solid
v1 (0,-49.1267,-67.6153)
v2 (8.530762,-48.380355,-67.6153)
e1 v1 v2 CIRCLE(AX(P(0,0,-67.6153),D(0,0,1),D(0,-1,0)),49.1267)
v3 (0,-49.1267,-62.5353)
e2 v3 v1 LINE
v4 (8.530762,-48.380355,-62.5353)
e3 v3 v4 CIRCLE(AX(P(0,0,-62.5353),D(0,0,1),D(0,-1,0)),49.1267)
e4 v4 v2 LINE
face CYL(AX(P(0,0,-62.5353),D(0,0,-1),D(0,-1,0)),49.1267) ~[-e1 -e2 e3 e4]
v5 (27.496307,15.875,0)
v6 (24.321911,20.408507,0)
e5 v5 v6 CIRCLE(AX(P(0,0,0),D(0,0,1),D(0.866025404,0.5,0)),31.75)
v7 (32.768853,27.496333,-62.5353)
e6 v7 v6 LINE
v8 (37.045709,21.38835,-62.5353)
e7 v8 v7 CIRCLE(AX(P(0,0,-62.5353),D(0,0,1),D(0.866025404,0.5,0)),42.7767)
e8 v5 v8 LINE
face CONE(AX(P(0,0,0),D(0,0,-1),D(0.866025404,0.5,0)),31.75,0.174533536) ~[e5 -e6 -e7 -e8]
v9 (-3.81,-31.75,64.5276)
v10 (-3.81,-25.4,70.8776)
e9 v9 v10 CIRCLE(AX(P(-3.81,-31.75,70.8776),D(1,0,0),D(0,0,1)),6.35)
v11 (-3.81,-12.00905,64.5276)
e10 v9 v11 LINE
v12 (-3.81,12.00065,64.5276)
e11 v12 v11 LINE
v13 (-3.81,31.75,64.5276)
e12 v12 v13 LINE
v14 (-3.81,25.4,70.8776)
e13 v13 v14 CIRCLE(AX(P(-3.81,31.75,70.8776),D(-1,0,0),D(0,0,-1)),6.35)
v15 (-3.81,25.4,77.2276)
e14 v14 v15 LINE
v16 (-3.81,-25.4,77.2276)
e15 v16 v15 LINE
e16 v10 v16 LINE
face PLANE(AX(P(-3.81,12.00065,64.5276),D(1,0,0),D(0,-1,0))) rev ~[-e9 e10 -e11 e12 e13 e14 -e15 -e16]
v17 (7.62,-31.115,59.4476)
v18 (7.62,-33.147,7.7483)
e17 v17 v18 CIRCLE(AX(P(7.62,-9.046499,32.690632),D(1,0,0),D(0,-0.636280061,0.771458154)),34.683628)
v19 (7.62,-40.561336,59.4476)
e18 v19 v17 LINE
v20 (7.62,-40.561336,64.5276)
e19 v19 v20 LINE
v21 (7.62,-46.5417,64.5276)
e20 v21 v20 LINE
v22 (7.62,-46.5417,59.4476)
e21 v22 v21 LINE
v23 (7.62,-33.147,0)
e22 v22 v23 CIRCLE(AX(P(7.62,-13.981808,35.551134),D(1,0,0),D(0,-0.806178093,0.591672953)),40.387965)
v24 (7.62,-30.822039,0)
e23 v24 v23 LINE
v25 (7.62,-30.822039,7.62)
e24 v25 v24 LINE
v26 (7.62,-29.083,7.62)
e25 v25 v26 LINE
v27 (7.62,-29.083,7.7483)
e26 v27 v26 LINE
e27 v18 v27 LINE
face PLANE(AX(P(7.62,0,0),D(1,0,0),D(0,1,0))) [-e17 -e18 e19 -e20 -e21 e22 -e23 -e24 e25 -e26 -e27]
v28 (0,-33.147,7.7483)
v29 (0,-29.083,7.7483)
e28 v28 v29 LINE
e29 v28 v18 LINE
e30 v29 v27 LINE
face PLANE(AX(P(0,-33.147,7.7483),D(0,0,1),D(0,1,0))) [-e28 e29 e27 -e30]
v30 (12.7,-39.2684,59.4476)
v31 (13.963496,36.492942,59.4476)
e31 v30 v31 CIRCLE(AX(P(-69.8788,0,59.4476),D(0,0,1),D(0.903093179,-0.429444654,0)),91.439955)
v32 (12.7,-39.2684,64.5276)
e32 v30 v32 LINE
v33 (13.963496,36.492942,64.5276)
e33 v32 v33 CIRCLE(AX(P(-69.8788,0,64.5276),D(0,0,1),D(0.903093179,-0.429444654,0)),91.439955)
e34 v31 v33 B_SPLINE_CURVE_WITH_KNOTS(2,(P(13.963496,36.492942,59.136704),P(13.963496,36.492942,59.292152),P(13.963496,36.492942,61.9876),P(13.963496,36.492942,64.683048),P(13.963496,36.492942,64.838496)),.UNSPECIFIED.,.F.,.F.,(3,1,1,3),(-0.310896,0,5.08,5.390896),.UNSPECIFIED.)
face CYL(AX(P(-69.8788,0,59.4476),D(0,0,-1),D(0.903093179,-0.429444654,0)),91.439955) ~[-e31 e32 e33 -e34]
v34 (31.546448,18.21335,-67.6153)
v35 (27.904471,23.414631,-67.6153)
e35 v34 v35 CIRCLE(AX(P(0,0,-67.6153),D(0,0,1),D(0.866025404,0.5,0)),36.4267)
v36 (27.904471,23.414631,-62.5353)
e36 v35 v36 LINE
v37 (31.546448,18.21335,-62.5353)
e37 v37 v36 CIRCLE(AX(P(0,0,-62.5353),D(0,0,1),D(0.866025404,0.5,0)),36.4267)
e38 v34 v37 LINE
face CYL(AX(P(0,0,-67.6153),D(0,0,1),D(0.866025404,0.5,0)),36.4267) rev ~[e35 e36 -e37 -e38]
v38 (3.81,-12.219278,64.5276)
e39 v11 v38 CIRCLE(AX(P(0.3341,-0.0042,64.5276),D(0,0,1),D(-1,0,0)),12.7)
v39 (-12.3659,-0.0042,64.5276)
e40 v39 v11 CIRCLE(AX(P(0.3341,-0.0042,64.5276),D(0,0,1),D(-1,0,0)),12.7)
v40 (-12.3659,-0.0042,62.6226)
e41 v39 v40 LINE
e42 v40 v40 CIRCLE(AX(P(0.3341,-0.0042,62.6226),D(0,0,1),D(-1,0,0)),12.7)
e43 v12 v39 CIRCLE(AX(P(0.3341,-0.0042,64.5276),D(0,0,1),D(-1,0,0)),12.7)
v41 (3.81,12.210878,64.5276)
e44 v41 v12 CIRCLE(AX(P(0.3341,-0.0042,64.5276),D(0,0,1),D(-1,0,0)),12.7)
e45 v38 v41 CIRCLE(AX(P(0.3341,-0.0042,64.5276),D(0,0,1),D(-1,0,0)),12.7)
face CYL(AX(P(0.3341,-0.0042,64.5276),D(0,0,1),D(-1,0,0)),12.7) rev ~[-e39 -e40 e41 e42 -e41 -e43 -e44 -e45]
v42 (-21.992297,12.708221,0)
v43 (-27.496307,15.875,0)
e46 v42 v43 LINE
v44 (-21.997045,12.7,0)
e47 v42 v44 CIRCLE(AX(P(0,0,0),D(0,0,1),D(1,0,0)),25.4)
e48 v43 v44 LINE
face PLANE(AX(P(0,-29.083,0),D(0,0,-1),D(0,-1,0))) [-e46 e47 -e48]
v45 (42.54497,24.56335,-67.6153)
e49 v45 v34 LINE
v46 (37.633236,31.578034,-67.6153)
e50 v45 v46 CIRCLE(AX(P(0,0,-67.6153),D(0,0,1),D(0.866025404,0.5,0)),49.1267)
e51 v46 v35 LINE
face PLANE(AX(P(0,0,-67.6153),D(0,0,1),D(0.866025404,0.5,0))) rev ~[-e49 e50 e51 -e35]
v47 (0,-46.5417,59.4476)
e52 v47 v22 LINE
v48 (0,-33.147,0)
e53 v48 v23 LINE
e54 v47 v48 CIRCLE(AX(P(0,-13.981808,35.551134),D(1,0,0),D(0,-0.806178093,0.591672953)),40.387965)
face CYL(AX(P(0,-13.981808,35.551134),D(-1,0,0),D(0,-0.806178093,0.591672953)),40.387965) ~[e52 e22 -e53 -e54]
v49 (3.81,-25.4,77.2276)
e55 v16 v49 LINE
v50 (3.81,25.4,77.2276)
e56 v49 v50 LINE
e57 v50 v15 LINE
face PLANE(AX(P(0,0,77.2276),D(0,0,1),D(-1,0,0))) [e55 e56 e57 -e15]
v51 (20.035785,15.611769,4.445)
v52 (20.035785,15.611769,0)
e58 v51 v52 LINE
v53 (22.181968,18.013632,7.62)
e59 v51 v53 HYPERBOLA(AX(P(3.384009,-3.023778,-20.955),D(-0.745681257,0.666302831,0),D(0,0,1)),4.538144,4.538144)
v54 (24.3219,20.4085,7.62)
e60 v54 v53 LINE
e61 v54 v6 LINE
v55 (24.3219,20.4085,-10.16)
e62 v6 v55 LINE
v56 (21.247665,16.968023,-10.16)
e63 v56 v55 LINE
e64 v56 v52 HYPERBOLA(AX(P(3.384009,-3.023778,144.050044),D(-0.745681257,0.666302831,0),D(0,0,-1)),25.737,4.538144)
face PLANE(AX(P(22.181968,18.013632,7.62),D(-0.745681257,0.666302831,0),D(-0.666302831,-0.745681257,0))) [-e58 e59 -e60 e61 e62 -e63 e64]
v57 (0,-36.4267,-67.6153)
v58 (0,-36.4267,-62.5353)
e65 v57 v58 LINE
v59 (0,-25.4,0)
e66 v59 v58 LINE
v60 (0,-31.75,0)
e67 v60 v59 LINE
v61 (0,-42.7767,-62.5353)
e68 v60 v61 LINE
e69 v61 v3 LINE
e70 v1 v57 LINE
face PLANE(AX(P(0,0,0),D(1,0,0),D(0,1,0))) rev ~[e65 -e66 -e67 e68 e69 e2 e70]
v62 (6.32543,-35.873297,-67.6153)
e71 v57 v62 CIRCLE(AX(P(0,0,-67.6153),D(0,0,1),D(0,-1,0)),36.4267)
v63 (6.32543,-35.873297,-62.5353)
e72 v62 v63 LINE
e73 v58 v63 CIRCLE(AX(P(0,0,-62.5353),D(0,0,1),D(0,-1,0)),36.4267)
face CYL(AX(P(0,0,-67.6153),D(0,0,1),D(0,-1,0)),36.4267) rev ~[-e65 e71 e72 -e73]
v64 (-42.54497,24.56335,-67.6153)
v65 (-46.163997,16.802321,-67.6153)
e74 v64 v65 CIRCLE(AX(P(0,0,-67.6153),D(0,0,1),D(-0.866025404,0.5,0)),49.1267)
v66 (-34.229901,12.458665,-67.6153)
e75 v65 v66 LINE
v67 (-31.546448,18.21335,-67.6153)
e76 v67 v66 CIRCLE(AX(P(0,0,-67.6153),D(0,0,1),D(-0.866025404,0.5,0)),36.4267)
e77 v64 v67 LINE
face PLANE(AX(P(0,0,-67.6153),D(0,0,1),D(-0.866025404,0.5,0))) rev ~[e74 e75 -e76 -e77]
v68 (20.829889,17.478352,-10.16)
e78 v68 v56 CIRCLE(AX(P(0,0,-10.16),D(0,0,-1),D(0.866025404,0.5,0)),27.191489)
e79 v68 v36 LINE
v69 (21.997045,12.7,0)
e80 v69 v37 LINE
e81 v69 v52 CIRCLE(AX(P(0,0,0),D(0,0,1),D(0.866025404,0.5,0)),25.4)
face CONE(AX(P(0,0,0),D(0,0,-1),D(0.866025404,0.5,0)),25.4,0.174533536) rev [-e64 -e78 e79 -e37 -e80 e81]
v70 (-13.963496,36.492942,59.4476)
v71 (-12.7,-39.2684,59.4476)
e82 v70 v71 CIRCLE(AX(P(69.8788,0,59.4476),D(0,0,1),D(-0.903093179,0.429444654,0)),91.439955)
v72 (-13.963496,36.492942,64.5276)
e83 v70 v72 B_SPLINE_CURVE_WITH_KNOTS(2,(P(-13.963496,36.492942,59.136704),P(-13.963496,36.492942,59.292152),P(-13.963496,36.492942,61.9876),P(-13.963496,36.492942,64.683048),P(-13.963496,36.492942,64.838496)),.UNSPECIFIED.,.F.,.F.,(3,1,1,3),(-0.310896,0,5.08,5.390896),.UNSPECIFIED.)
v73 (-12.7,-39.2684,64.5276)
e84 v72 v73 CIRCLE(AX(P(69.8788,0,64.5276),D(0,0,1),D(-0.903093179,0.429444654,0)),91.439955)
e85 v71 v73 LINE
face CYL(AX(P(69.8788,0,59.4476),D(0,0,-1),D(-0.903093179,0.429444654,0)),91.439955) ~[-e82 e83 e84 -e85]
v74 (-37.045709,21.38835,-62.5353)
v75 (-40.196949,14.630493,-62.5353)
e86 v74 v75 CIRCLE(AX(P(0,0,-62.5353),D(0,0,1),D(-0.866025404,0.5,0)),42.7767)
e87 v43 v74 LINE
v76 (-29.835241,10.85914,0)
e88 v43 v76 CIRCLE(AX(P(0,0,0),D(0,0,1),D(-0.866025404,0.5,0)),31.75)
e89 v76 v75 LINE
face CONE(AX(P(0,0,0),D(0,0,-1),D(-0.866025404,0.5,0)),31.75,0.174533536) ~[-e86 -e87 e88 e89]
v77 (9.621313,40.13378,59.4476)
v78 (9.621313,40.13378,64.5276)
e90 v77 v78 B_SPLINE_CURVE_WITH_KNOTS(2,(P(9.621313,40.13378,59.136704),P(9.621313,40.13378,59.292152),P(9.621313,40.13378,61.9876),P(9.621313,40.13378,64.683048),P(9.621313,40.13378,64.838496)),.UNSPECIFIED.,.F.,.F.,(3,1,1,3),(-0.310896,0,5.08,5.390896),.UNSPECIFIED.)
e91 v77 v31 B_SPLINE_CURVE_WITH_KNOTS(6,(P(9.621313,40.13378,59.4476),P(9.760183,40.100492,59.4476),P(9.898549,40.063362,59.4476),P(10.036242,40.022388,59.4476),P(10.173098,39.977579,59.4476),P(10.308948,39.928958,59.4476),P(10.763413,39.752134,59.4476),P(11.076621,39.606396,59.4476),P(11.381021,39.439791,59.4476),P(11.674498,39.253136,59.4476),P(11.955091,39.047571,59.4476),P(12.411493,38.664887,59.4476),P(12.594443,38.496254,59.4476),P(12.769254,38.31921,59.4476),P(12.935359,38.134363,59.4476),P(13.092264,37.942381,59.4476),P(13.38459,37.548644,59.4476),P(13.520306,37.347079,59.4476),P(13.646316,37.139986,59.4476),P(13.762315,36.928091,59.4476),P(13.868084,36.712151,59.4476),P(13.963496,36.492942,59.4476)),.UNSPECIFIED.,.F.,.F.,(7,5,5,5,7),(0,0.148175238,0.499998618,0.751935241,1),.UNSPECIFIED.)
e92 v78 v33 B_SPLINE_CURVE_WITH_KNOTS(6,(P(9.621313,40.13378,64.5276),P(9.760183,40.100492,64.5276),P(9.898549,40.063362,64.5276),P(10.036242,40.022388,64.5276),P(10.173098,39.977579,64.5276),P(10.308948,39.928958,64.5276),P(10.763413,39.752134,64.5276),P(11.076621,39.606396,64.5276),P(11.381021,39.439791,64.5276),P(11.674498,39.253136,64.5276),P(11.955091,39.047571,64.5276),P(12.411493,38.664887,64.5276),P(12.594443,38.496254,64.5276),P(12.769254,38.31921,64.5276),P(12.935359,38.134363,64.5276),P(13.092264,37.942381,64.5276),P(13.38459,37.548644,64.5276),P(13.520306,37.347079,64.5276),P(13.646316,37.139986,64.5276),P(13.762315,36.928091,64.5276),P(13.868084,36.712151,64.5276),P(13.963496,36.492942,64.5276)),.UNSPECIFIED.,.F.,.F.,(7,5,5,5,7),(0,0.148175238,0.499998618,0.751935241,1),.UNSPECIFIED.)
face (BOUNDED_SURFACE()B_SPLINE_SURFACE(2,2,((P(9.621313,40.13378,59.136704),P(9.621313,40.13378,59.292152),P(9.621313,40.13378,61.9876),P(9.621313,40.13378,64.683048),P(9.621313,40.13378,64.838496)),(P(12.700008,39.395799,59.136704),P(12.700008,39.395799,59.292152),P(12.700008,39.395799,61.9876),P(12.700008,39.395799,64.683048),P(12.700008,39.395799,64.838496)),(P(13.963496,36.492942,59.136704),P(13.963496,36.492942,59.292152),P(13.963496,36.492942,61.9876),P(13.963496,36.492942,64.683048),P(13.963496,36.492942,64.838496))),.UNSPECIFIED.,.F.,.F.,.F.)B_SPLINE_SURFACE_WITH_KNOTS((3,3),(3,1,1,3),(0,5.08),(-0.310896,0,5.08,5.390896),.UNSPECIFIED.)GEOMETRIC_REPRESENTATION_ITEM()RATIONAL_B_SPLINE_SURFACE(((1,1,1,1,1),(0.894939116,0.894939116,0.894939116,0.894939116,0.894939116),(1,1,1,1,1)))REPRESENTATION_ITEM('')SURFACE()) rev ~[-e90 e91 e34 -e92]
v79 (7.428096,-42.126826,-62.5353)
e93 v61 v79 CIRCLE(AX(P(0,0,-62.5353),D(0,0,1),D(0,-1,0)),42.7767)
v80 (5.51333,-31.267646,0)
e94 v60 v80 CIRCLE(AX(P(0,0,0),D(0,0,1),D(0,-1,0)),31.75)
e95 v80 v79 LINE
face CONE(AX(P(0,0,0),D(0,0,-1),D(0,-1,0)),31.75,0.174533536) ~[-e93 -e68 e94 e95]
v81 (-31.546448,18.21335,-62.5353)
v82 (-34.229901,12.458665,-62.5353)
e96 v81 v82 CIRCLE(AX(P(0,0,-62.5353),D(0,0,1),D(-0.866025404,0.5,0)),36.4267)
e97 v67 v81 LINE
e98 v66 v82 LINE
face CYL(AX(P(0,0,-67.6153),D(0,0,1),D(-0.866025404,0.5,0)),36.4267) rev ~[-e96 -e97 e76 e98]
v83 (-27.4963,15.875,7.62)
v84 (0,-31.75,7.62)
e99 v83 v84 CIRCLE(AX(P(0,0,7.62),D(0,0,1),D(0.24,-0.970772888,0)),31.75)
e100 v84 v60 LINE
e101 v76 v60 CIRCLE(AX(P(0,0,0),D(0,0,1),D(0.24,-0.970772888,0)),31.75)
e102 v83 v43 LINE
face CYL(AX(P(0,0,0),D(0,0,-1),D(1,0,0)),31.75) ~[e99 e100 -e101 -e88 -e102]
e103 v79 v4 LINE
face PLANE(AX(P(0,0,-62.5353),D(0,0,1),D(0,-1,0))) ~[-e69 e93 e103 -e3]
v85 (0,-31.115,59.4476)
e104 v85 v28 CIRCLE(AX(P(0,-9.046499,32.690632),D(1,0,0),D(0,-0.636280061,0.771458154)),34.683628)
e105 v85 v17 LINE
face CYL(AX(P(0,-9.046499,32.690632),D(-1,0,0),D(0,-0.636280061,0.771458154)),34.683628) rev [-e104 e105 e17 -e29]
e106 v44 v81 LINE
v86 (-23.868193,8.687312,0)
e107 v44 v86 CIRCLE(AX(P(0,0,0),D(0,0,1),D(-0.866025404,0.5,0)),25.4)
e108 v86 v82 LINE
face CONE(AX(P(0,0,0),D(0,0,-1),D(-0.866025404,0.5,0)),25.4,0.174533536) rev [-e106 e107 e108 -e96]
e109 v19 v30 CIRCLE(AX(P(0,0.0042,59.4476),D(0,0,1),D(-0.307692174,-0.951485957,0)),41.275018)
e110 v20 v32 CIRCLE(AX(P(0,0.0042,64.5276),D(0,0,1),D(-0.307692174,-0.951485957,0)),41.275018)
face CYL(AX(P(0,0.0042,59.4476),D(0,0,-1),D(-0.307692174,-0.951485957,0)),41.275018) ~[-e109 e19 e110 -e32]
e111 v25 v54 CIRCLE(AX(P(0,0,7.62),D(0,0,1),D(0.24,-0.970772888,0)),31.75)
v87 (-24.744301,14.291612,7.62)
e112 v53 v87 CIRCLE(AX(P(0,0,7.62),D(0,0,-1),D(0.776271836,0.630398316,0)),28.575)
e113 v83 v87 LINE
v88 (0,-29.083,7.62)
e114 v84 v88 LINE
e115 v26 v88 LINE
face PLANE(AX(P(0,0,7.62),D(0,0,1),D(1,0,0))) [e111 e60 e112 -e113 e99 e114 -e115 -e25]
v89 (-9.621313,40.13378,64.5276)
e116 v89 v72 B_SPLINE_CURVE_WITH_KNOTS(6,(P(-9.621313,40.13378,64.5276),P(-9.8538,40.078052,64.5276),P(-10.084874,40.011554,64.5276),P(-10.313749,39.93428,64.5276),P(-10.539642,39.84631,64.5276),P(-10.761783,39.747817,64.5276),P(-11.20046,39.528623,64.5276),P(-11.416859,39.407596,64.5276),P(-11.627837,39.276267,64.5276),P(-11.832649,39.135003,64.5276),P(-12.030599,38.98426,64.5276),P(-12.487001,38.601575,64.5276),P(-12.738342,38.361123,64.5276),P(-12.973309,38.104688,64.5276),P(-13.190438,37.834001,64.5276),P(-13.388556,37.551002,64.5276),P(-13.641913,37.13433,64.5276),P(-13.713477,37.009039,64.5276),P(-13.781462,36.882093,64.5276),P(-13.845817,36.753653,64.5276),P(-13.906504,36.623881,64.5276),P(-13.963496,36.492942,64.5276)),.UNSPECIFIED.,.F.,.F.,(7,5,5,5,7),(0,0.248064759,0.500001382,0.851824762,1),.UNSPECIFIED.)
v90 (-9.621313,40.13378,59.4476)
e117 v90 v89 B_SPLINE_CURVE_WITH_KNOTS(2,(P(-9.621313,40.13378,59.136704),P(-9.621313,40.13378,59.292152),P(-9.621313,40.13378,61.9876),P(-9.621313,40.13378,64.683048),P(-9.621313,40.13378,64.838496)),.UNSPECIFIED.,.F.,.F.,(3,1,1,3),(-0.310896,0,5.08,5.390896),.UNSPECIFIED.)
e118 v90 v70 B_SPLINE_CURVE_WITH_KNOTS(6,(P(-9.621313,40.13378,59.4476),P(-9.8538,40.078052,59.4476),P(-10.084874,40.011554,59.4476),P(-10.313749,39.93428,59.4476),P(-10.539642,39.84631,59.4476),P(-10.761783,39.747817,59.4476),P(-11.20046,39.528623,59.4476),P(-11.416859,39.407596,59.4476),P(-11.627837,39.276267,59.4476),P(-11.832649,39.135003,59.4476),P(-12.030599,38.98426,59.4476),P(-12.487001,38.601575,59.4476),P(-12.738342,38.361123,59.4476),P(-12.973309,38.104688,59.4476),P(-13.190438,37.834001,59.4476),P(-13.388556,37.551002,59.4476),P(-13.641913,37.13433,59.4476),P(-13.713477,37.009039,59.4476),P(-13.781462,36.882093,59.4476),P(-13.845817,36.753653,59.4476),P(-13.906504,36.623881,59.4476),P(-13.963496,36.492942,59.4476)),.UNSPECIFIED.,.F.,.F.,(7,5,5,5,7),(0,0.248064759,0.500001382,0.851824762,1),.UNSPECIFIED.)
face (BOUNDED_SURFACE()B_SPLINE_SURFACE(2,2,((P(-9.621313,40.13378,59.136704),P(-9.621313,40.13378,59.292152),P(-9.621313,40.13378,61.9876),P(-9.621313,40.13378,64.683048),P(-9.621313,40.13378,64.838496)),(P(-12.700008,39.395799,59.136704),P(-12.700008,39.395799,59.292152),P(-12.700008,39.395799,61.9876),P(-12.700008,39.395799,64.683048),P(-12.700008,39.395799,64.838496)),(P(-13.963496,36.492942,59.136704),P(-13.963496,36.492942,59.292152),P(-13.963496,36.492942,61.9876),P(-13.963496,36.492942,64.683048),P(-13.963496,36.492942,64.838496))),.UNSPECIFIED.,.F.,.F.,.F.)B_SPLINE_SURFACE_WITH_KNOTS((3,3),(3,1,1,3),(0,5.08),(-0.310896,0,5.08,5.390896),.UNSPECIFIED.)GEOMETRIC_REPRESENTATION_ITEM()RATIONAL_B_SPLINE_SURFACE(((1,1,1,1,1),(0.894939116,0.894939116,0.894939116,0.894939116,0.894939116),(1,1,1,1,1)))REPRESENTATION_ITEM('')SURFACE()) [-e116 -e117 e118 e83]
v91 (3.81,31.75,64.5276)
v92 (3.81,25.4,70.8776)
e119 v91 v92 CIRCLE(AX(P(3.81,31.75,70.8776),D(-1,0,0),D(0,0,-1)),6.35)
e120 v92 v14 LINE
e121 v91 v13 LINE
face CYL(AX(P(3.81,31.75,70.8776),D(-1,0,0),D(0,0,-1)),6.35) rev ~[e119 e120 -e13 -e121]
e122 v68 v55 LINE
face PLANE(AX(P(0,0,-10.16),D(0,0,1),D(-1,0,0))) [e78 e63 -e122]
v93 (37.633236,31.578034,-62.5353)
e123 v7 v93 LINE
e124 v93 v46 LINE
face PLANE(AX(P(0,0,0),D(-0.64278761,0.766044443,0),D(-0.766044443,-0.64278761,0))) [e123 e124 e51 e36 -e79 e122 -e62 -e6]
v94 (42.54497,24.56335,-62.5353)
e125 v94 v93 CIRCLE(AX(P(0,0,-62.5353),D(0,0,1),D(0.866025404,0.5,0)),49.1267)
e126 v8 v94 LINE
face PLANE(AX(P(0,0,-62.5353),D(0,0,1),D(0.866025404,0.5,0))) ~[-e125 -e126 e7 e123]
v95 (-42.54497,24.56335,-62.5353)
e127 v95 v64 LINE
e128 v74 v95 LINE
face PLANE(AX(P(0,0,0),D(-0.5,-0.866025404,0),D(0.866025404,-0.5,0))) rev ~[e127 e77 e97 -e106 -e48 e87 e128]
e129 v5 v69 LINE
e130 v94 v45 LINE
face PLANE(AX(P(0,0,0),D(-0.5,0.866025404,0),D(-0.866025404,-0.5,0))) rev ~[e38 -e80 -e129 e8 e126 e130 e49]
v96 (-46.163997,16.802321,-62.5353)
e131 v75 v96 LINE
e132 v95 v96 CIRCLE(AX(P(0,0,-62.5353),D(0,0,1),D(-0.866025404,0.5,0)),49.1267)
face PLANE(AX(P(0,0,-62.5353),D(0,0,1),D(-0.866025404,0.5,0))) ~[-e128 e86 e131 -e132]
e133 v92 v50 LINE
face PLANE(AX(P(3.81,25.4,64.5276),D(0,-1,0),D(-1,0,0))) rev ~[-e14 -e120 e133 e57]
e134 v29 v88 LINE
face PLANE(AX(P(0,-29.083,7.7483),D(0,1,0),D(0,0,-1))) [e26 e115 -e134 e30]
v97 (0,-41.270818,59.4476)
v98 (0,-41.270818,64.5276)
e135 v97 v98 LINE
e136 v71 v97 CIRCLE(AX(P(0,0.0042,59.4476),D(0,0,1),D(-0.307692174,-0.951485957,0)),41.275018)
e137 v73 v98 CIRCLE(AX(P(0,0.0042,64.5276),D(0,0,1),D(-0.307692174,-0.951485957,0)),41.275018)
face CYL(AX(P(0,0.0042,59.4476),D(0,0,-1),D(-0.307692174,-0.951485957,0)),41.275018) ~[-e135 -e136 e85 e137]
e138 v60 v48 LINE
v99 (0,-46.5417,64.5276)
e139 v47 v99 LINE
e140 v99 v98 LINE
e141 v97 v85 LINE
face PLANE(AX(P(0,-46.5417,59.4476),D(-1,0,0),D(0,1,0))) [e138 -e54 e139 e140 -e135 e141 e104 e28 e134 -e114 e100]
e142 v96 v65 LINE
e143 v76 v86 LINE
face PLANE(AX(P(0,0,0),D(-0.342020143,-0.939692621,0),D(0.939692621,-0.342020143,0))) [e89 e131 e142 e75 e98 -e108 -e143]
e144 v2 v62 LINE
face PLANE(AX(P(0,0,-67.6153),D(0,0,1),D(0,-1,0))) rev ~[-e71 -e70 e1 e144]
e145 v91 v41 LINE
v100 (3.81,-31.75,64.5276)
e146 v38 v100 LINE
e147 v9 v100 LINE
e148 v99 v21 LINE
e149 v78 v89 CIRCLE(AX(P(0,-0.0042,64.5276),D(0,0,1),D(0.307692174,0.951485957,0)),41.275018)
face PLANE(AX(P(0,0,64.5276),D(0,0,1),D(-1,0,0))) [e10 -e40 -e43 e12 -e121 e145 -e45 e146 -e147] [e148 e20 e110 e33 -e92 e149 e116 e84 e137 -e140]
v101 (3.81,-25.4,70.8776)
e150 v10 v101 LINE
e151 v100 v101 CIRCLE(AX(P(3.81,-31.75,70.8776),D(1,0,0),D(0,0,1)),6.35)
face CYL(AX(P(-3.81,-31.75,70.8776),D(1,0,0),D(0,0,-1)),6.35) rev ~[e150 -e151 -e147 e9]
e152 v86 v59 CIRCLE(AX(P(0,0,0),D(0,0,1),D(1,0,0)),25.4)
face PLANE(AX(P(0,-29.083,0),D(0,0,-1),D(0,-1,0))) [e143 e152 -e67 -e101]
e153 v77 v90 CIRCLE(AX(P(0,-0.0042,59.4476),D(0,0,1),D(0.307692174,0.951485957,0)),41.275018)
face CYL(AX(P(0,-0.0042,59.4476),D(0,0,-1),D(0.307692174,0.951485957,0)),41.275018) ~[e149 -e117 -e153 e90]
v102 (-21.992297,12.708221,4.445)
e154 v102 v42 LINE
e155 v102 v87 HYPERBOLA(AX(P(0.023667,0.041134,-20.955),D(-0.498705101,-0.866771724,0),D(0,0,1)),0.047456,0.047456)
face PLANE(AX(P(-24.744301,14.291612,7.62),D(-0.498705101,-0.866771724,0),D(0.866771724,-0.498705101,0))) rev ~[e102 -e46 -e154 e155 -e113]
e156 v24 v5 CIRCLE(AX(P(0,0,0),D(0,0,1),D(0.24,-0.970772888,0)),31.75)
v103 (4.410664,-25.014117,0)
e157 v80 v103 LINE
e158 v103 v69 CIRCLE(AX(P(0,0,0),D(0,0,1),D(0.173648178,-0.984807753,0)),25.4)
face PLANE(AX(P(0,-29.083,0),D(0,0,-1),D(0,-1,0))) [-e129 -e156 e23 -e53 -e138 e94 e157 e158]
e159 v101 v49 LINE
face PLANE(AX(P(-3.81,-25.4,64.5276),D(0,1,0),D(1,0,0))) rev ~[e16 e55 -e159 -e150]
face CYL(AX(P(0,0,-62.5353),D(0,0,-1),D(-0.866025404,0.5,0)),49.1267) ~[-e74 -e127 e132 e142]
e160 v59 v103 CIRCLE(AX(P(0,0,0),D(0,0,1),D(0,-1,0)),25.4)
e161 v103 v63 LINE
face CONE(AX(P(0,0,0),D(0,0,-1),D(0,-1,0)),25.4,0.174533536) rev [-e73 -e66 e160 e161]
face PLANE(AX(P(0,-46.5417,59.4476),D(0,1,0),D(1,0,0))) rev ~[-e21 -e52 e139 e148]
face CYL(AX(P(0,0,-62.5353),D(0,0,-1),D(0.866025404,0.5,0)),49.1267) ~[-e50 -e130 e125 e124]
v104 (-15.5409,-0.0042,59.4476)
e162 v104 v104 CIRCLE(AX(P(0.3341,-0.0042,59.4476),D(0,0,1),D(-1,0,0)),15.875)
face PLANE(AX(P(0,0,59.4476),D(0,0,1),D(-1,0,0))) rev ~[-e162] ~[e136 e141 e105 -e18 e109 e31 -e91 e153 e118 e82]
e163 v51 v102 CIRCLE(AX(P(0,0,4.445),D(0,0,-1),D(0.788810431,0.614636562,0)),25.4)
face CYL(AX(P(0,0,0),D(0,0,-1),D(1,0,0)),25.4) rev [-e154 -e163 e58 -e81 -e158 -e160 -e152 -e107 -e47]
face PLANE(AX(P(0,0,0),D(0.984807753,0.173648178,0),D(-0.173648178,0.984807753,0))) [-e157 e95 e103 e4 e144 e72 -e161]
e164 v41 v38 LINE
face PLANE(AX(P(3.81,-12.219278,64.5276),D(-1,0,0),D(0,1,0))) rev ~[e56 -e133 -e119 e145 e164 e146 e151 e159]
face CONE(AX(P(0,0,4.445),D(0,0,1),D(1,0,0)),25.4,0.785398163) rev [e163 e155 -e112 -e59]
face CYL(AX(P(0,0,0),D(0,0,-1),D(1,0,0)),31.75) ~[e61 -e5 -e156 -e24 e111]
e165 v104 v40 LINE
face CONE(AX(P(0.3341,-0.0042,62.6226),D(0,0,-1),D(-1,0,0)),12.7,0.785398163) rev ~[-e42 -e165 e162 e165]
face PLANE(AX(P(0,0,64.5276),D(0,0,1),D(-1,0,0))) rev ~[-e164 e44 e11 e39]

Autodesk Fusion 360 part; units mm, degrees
sketch "Sketch1" plane through (0, 0, 0) normal (0, 0, 1) x (1, 0, 0)
  circle A0 centre (0, 0) radius 31.75
  circle A1 centre (0, 0) radius 25.4
  dimension "d1" = 63.5
  dimension "d2" = 50.8
extrude "Extrude1" add sketch "Sketch1" along normal blind 7.62 makes body 1
chamfer "Chamfer1" distance 3.175 distance2 3.175 1 edges at (-23.6811, 9.185, 7.62) measured on face at (29.4206, -2.8393, 7.62) on bodies 1
sketch "Sketch2" plane through (0, 0, 0) normal (1, 0, 0) x (0, 1, 0)
  arc A0 (-31.115, 59.4476) -> (-33.147, 7.7483) centre (-9.0465, 32.6906) ccw
  arc A1 (-46.5417, 59.4476) -> (-33.147, 0) centre (-13.9818, 35.5511) ccw
  line L0 (-33.147, 7.7483) -> (-33.147, 0)
  line L1 (-33.147, 7.7483) -> (-29.083, 7.7483)
  line L2 (-29.083, 7.7483) -> (-29.083, 0)
  line L3 (-29.083, 0) -> (-33.147, 0)
  line L4 (-33.147, 0) -> (-33.147, 7.7483)
  line L5 (-31.115, 0) -> (-31.115, 59.4476) construction
  line L6 (-46.5417, 59.4476) -> (-31.115, 59.4476)
extrude "Extrude2" add sketch "Sketch2" along normal blind 7.62 bodies 1
sketch "Sketch5" plane through (0, 0, 59.4476) normal (0, 0, 1) x (-1, 0, 0)
  line L0 (0, 31.115) -> (0, 46.5417)
  line L1 (0, 46.5417) -> (-7.62, 46.5417)
  line L2 (-7.62, 46.5417) -> (-7.62, 31.115)
  line L3 (-7.62, 31.115) -> (0, 31.115)
  line L4 (12.7, 39.2684) -> (-12.7, 39.2684) construction
  line L5 (-12.7, 39.2684) -> (-12.7, -39.2684) construction
  line L6 (-12.7, -39.2684) -> (12.7, -39.2684) construction
  line L7 (12.7, -39.2684) -> (12.7, 39.2684) construction
  line L8 (12.7, 39.2684) -> (-12.7, -39.2684) construction
  line L9 (-12.7, 39.2684) -> (12.7, -39.2684) construction
  arc A0 (12.7, -39.2684) -> (12.7, 39.2684) centre (-69.8788, 0) ccw
  arc A1 (12.7, 39.2684) -> (-12.7, 39.2684) centre (0, -0.0042) ccw
  arc A2 (-12.7, 39.2684) -> (-12.7, -39.2684) centre (69.8788, 0) ccw
  arc A3 (-12.7, -39.2684) -> (12.7, -39.2684) centre (0, 0.0042) ccw
  line L10 (0, 46.5417) -> (-7.62, 46.5417)
  line L11 (-7.62, 46.5417) -> (-7.62, 31.115)
  line L12 (-7.62, 31.115) -> (0, 31.115)
  line L13 (0, 31.115) -> (0, 46.5417)
  dimension "d20" = 25.4
  dimension "d21" = 78.5368
  dimension "d22" = 91.44
  dimension "d23" = 41.275
  dimension "d24" = 91.44
  dimension "d25" = 41.275
extrude "Extrude3" add sketch "Sketch5" along normal blind 5.08 separate body contours L0 L2 L3 A0 A1 A2 A3 L11 L12 L13 makes body 2
extrude "Extrude4" add 1 faces at (2.54, -36.2572, 59.4476) along direction (0, 0, 1) blind 5.08 on bodies 1 bodies 1 2
fillet "Fillet1" radius 6.35 1 edges at (12.7, 39.2684, 61.9876) on bodies 1
fillet "Fillet2" radius 6.35 1 edges at (-12.7, 39.2684, 61.9876) on bodies 1
sketch "Sketch6" plane through (0, 0, 64.5276) normal (0, 0, 1) x (-1, 0, 0)
  arc A0 (9.6213, -40.1338) -> (13.9635, -36.4929) centre (8.1411, -33.9587) ccw
  arc A1 (13.9635, -36.4929) -> (12.7, 39.2684) centre (-69.8788, 0) ccw
  arc A2 (12.7, 39.2684) -> (0, 41.2708) centre (0, -0.0042) ccw
  line L0 (0, 41.2708) -> (0, 46.5417)
  line L1 (0, 46.5417) -> (-7.62, 46.5417)
  line L2 (-7.62, 46.5417) -> (-7.62, 40.5613)
  arc A3 (-7.62, 40.5613) -> (-12.7, 39.2684) centre (0, -0.0042) ccw
  arc A4 (-12.7, 39.2684) -> (-13.9635, -36.4929) centre (69.8788, 0) ccw
  arc A5 (-13.9635, -36.4929) -> (-9.6213, -40.1338) centre (-8.1411, -33.9587) ccw
  arc A6 (-9.6213, -40.1338) -> (9.6213, -40.1338) centre (0, 0.0042) ccw
  circle A7 centre (-0.3341, 0.0042) radius 12.7
  dimension "d35" = 25.4
extrude "Extrude5" cut sketch "Sketch6" against normal blind 5.08 contours A7 bodies 1
chamfer "Chamfer2" distance 3.175 angle 45 1 edges at (12.1747, 4.5883, 59.4476) on bodies 1
sketch "Sketch7" plane through (0, 0, 64.5276) normal (0, 0, 1) x (-1, 0, 0)
  circle A0 centre (-0.3341, 0.0042) radius 12.7
  arc A1 (9.6213, -40.1338) -> (13.9635, -36.4929) centre (8.1411, -33.9587) ccw
  arc A2 (13.9635, -36.4929) -> (12.7, 39.2684) centre (-69.8788, 0) ccw
  arc A3 (12.7, 39.2684) -> (0, 41.2708) centre (0, -0.0042) ccw
  line L0 (0, 41.2708) -> (0, 46.5417)
  line L1 (0, 46.5417) -> (-7.62, 46.5417)
  line L2 (-7.62, 46.5417) -> (-7.62, 40.5613)
  arc A4 (-7.62, 40.5613) -> (-12.7, 39.2684) centre (0, -0.0042) ccw
  arc A5 (-12.7, 39.2684) -> (-13.9635, -36.4929) centre (69.8788, 0) ccw
  arc A6 (-13.9635, -36.4929) -> (-9.6213, -40.1338) centre (-8.1411, -33.9587) ccw
  arc A7 (-9.6213, -40.1338) -> (9.6213, -40.1338) centre (0, 0.0042) ccw
  line L3 (3.81, 25.4) -> (-3.81, 25.4)
  line L4 (-3.81, 25.4) -> (-3.81, -25.4)
  line L5 (-3.81, -25.4) -> (3.81, -25.4)
  line L6 (3.81, -25.4) -> (3.81, 25.4)
  line L7 (3.81, 25.4) -> (-3.81, -25.4) construction
  line L8 (-3.81, 25.4) -> (3.81, -25.4) construction
  dimension "d39" = 7.62
  dimension "d40" = 50.8
extrude "Extrude6" add sketch "Sketch7" along normal blind 12.7 contours A0 L4 L6 | A0 L3 L4 L6 | A0 L4 L5 L6 bodies 1
fillet "Fillet3" radius 6.35 1 edges at (0, -25.4, 64.5276) on bodies 1
fillet "Fillet4" radius 6.35 1 edges at (0, 25.4, 64.5276) on bodies 1
sketch "Sketch10" plane through (0, 0, 0) normal (1, 0, 0) x (0, 1, 0)
  line L0 (-31.75, 0) -> (-42.7767, -62.5353)
  line L1 (-31.75, 0) -> (31.75, 0) construction
  line L2 (-31.75, 0) -> (-25.4, 0)
  line L3 (-25.4, 0) -> (-36.4267, -62.5353)
  line L4 (-25.4, 0) -> (38.1, 0) construction
  line L5 (-36.4267, -62.5353) -> (-49.1267, -62.5353)
  line L6 (-49.1267, -62.5353) -> (-49.1267, -67.6153)
  line L7 (-49.1267, -67.6153) -> (-36.4267, -67.6153)
  line L8 (-36.4267, -67.6153) -> (-36.4267, -62.5353)
  dimension "d57" = 100
  dimension "d58" = 63.5
  dimension "d59" = 6.35
  dimension "d60" = 100
  dimension "d61" = 63.5
  dimension "d62" = 12.7
  dimension "d63" = 5.08
revolve "Revolve2" add sketch "Sketch10" angle 10 about axis through (0, 0, 1.75) along (0, 0, 1) bodies 1
pattern_circular "C-Pattern1" count 3 over 360 about axis through (0, 0, 1.75) along (0, 0, 1) of "Revolve2"
sketch "Sketch11" plane through (0, 0, 7.62) normal (0, 0, 1) x (-1, 0, 0)
  circle A0 centre (0, 0) radius 28.575
  line L0 (0, 31.75) -> (0, 29.083)
  line L1 (0, 29.083) -> (-7.62, 29.083)
  line L2 (-7.62, 29.083) -> (-7.62, 30.822)
  arc A1 (-7.62, 30.822) -> (0, 31.75) centre (0, 0) ccw
  line L3 (-27.4963, -15.875) -> (-37.0457, -21.3883)
  arc A2 (-37.0457, -21.3883) -> (-32.7688, -27.4963) centre (0, 0) ccw
  line L4 (-32.7688, -27.4963) -> (-24.3219, -20.4085)
  arc A3 (-27.4963, -15.875) -> (-24.3219, -20.4085) centre (0, 0) ccw
  line L5 (27.4963, -15.875) -> (37.0457, -21.3883)
  arc A4 (37.0457, -21.3883) -> (40.1969, -14.6305) centre (0, 0) ccw
  line L6 (40.1969, -14.6305) -> (29.8352, -10.8591)
  arc A5 (27.4963, -15.875) -> (29.8352, -10.8591) centre (0, 0) ccw
  line L7 (27.4963, -15.875) -> (10.16, -5.9004)
  line L8 (-24.3219, -20.4085) -> (-11.3582, -5.9004)
  line L9 (-11.3582, -5.9004) -> (10.16, -5.9004)
  line L10 (-32.7688, -27.4963) -> (0, -40.64)
  line L11 (0, -40.64) -> (37.0457, -21.3883)
extrude "Extrude7" cut sketch "Sketch11" against normal blind 17.78 contours A0 L7 L8 L9 | A0 A1 L7 L8 | A1 L4 L5 L10 L11 picked at (-0.3547, -13.4585) bodies 1
